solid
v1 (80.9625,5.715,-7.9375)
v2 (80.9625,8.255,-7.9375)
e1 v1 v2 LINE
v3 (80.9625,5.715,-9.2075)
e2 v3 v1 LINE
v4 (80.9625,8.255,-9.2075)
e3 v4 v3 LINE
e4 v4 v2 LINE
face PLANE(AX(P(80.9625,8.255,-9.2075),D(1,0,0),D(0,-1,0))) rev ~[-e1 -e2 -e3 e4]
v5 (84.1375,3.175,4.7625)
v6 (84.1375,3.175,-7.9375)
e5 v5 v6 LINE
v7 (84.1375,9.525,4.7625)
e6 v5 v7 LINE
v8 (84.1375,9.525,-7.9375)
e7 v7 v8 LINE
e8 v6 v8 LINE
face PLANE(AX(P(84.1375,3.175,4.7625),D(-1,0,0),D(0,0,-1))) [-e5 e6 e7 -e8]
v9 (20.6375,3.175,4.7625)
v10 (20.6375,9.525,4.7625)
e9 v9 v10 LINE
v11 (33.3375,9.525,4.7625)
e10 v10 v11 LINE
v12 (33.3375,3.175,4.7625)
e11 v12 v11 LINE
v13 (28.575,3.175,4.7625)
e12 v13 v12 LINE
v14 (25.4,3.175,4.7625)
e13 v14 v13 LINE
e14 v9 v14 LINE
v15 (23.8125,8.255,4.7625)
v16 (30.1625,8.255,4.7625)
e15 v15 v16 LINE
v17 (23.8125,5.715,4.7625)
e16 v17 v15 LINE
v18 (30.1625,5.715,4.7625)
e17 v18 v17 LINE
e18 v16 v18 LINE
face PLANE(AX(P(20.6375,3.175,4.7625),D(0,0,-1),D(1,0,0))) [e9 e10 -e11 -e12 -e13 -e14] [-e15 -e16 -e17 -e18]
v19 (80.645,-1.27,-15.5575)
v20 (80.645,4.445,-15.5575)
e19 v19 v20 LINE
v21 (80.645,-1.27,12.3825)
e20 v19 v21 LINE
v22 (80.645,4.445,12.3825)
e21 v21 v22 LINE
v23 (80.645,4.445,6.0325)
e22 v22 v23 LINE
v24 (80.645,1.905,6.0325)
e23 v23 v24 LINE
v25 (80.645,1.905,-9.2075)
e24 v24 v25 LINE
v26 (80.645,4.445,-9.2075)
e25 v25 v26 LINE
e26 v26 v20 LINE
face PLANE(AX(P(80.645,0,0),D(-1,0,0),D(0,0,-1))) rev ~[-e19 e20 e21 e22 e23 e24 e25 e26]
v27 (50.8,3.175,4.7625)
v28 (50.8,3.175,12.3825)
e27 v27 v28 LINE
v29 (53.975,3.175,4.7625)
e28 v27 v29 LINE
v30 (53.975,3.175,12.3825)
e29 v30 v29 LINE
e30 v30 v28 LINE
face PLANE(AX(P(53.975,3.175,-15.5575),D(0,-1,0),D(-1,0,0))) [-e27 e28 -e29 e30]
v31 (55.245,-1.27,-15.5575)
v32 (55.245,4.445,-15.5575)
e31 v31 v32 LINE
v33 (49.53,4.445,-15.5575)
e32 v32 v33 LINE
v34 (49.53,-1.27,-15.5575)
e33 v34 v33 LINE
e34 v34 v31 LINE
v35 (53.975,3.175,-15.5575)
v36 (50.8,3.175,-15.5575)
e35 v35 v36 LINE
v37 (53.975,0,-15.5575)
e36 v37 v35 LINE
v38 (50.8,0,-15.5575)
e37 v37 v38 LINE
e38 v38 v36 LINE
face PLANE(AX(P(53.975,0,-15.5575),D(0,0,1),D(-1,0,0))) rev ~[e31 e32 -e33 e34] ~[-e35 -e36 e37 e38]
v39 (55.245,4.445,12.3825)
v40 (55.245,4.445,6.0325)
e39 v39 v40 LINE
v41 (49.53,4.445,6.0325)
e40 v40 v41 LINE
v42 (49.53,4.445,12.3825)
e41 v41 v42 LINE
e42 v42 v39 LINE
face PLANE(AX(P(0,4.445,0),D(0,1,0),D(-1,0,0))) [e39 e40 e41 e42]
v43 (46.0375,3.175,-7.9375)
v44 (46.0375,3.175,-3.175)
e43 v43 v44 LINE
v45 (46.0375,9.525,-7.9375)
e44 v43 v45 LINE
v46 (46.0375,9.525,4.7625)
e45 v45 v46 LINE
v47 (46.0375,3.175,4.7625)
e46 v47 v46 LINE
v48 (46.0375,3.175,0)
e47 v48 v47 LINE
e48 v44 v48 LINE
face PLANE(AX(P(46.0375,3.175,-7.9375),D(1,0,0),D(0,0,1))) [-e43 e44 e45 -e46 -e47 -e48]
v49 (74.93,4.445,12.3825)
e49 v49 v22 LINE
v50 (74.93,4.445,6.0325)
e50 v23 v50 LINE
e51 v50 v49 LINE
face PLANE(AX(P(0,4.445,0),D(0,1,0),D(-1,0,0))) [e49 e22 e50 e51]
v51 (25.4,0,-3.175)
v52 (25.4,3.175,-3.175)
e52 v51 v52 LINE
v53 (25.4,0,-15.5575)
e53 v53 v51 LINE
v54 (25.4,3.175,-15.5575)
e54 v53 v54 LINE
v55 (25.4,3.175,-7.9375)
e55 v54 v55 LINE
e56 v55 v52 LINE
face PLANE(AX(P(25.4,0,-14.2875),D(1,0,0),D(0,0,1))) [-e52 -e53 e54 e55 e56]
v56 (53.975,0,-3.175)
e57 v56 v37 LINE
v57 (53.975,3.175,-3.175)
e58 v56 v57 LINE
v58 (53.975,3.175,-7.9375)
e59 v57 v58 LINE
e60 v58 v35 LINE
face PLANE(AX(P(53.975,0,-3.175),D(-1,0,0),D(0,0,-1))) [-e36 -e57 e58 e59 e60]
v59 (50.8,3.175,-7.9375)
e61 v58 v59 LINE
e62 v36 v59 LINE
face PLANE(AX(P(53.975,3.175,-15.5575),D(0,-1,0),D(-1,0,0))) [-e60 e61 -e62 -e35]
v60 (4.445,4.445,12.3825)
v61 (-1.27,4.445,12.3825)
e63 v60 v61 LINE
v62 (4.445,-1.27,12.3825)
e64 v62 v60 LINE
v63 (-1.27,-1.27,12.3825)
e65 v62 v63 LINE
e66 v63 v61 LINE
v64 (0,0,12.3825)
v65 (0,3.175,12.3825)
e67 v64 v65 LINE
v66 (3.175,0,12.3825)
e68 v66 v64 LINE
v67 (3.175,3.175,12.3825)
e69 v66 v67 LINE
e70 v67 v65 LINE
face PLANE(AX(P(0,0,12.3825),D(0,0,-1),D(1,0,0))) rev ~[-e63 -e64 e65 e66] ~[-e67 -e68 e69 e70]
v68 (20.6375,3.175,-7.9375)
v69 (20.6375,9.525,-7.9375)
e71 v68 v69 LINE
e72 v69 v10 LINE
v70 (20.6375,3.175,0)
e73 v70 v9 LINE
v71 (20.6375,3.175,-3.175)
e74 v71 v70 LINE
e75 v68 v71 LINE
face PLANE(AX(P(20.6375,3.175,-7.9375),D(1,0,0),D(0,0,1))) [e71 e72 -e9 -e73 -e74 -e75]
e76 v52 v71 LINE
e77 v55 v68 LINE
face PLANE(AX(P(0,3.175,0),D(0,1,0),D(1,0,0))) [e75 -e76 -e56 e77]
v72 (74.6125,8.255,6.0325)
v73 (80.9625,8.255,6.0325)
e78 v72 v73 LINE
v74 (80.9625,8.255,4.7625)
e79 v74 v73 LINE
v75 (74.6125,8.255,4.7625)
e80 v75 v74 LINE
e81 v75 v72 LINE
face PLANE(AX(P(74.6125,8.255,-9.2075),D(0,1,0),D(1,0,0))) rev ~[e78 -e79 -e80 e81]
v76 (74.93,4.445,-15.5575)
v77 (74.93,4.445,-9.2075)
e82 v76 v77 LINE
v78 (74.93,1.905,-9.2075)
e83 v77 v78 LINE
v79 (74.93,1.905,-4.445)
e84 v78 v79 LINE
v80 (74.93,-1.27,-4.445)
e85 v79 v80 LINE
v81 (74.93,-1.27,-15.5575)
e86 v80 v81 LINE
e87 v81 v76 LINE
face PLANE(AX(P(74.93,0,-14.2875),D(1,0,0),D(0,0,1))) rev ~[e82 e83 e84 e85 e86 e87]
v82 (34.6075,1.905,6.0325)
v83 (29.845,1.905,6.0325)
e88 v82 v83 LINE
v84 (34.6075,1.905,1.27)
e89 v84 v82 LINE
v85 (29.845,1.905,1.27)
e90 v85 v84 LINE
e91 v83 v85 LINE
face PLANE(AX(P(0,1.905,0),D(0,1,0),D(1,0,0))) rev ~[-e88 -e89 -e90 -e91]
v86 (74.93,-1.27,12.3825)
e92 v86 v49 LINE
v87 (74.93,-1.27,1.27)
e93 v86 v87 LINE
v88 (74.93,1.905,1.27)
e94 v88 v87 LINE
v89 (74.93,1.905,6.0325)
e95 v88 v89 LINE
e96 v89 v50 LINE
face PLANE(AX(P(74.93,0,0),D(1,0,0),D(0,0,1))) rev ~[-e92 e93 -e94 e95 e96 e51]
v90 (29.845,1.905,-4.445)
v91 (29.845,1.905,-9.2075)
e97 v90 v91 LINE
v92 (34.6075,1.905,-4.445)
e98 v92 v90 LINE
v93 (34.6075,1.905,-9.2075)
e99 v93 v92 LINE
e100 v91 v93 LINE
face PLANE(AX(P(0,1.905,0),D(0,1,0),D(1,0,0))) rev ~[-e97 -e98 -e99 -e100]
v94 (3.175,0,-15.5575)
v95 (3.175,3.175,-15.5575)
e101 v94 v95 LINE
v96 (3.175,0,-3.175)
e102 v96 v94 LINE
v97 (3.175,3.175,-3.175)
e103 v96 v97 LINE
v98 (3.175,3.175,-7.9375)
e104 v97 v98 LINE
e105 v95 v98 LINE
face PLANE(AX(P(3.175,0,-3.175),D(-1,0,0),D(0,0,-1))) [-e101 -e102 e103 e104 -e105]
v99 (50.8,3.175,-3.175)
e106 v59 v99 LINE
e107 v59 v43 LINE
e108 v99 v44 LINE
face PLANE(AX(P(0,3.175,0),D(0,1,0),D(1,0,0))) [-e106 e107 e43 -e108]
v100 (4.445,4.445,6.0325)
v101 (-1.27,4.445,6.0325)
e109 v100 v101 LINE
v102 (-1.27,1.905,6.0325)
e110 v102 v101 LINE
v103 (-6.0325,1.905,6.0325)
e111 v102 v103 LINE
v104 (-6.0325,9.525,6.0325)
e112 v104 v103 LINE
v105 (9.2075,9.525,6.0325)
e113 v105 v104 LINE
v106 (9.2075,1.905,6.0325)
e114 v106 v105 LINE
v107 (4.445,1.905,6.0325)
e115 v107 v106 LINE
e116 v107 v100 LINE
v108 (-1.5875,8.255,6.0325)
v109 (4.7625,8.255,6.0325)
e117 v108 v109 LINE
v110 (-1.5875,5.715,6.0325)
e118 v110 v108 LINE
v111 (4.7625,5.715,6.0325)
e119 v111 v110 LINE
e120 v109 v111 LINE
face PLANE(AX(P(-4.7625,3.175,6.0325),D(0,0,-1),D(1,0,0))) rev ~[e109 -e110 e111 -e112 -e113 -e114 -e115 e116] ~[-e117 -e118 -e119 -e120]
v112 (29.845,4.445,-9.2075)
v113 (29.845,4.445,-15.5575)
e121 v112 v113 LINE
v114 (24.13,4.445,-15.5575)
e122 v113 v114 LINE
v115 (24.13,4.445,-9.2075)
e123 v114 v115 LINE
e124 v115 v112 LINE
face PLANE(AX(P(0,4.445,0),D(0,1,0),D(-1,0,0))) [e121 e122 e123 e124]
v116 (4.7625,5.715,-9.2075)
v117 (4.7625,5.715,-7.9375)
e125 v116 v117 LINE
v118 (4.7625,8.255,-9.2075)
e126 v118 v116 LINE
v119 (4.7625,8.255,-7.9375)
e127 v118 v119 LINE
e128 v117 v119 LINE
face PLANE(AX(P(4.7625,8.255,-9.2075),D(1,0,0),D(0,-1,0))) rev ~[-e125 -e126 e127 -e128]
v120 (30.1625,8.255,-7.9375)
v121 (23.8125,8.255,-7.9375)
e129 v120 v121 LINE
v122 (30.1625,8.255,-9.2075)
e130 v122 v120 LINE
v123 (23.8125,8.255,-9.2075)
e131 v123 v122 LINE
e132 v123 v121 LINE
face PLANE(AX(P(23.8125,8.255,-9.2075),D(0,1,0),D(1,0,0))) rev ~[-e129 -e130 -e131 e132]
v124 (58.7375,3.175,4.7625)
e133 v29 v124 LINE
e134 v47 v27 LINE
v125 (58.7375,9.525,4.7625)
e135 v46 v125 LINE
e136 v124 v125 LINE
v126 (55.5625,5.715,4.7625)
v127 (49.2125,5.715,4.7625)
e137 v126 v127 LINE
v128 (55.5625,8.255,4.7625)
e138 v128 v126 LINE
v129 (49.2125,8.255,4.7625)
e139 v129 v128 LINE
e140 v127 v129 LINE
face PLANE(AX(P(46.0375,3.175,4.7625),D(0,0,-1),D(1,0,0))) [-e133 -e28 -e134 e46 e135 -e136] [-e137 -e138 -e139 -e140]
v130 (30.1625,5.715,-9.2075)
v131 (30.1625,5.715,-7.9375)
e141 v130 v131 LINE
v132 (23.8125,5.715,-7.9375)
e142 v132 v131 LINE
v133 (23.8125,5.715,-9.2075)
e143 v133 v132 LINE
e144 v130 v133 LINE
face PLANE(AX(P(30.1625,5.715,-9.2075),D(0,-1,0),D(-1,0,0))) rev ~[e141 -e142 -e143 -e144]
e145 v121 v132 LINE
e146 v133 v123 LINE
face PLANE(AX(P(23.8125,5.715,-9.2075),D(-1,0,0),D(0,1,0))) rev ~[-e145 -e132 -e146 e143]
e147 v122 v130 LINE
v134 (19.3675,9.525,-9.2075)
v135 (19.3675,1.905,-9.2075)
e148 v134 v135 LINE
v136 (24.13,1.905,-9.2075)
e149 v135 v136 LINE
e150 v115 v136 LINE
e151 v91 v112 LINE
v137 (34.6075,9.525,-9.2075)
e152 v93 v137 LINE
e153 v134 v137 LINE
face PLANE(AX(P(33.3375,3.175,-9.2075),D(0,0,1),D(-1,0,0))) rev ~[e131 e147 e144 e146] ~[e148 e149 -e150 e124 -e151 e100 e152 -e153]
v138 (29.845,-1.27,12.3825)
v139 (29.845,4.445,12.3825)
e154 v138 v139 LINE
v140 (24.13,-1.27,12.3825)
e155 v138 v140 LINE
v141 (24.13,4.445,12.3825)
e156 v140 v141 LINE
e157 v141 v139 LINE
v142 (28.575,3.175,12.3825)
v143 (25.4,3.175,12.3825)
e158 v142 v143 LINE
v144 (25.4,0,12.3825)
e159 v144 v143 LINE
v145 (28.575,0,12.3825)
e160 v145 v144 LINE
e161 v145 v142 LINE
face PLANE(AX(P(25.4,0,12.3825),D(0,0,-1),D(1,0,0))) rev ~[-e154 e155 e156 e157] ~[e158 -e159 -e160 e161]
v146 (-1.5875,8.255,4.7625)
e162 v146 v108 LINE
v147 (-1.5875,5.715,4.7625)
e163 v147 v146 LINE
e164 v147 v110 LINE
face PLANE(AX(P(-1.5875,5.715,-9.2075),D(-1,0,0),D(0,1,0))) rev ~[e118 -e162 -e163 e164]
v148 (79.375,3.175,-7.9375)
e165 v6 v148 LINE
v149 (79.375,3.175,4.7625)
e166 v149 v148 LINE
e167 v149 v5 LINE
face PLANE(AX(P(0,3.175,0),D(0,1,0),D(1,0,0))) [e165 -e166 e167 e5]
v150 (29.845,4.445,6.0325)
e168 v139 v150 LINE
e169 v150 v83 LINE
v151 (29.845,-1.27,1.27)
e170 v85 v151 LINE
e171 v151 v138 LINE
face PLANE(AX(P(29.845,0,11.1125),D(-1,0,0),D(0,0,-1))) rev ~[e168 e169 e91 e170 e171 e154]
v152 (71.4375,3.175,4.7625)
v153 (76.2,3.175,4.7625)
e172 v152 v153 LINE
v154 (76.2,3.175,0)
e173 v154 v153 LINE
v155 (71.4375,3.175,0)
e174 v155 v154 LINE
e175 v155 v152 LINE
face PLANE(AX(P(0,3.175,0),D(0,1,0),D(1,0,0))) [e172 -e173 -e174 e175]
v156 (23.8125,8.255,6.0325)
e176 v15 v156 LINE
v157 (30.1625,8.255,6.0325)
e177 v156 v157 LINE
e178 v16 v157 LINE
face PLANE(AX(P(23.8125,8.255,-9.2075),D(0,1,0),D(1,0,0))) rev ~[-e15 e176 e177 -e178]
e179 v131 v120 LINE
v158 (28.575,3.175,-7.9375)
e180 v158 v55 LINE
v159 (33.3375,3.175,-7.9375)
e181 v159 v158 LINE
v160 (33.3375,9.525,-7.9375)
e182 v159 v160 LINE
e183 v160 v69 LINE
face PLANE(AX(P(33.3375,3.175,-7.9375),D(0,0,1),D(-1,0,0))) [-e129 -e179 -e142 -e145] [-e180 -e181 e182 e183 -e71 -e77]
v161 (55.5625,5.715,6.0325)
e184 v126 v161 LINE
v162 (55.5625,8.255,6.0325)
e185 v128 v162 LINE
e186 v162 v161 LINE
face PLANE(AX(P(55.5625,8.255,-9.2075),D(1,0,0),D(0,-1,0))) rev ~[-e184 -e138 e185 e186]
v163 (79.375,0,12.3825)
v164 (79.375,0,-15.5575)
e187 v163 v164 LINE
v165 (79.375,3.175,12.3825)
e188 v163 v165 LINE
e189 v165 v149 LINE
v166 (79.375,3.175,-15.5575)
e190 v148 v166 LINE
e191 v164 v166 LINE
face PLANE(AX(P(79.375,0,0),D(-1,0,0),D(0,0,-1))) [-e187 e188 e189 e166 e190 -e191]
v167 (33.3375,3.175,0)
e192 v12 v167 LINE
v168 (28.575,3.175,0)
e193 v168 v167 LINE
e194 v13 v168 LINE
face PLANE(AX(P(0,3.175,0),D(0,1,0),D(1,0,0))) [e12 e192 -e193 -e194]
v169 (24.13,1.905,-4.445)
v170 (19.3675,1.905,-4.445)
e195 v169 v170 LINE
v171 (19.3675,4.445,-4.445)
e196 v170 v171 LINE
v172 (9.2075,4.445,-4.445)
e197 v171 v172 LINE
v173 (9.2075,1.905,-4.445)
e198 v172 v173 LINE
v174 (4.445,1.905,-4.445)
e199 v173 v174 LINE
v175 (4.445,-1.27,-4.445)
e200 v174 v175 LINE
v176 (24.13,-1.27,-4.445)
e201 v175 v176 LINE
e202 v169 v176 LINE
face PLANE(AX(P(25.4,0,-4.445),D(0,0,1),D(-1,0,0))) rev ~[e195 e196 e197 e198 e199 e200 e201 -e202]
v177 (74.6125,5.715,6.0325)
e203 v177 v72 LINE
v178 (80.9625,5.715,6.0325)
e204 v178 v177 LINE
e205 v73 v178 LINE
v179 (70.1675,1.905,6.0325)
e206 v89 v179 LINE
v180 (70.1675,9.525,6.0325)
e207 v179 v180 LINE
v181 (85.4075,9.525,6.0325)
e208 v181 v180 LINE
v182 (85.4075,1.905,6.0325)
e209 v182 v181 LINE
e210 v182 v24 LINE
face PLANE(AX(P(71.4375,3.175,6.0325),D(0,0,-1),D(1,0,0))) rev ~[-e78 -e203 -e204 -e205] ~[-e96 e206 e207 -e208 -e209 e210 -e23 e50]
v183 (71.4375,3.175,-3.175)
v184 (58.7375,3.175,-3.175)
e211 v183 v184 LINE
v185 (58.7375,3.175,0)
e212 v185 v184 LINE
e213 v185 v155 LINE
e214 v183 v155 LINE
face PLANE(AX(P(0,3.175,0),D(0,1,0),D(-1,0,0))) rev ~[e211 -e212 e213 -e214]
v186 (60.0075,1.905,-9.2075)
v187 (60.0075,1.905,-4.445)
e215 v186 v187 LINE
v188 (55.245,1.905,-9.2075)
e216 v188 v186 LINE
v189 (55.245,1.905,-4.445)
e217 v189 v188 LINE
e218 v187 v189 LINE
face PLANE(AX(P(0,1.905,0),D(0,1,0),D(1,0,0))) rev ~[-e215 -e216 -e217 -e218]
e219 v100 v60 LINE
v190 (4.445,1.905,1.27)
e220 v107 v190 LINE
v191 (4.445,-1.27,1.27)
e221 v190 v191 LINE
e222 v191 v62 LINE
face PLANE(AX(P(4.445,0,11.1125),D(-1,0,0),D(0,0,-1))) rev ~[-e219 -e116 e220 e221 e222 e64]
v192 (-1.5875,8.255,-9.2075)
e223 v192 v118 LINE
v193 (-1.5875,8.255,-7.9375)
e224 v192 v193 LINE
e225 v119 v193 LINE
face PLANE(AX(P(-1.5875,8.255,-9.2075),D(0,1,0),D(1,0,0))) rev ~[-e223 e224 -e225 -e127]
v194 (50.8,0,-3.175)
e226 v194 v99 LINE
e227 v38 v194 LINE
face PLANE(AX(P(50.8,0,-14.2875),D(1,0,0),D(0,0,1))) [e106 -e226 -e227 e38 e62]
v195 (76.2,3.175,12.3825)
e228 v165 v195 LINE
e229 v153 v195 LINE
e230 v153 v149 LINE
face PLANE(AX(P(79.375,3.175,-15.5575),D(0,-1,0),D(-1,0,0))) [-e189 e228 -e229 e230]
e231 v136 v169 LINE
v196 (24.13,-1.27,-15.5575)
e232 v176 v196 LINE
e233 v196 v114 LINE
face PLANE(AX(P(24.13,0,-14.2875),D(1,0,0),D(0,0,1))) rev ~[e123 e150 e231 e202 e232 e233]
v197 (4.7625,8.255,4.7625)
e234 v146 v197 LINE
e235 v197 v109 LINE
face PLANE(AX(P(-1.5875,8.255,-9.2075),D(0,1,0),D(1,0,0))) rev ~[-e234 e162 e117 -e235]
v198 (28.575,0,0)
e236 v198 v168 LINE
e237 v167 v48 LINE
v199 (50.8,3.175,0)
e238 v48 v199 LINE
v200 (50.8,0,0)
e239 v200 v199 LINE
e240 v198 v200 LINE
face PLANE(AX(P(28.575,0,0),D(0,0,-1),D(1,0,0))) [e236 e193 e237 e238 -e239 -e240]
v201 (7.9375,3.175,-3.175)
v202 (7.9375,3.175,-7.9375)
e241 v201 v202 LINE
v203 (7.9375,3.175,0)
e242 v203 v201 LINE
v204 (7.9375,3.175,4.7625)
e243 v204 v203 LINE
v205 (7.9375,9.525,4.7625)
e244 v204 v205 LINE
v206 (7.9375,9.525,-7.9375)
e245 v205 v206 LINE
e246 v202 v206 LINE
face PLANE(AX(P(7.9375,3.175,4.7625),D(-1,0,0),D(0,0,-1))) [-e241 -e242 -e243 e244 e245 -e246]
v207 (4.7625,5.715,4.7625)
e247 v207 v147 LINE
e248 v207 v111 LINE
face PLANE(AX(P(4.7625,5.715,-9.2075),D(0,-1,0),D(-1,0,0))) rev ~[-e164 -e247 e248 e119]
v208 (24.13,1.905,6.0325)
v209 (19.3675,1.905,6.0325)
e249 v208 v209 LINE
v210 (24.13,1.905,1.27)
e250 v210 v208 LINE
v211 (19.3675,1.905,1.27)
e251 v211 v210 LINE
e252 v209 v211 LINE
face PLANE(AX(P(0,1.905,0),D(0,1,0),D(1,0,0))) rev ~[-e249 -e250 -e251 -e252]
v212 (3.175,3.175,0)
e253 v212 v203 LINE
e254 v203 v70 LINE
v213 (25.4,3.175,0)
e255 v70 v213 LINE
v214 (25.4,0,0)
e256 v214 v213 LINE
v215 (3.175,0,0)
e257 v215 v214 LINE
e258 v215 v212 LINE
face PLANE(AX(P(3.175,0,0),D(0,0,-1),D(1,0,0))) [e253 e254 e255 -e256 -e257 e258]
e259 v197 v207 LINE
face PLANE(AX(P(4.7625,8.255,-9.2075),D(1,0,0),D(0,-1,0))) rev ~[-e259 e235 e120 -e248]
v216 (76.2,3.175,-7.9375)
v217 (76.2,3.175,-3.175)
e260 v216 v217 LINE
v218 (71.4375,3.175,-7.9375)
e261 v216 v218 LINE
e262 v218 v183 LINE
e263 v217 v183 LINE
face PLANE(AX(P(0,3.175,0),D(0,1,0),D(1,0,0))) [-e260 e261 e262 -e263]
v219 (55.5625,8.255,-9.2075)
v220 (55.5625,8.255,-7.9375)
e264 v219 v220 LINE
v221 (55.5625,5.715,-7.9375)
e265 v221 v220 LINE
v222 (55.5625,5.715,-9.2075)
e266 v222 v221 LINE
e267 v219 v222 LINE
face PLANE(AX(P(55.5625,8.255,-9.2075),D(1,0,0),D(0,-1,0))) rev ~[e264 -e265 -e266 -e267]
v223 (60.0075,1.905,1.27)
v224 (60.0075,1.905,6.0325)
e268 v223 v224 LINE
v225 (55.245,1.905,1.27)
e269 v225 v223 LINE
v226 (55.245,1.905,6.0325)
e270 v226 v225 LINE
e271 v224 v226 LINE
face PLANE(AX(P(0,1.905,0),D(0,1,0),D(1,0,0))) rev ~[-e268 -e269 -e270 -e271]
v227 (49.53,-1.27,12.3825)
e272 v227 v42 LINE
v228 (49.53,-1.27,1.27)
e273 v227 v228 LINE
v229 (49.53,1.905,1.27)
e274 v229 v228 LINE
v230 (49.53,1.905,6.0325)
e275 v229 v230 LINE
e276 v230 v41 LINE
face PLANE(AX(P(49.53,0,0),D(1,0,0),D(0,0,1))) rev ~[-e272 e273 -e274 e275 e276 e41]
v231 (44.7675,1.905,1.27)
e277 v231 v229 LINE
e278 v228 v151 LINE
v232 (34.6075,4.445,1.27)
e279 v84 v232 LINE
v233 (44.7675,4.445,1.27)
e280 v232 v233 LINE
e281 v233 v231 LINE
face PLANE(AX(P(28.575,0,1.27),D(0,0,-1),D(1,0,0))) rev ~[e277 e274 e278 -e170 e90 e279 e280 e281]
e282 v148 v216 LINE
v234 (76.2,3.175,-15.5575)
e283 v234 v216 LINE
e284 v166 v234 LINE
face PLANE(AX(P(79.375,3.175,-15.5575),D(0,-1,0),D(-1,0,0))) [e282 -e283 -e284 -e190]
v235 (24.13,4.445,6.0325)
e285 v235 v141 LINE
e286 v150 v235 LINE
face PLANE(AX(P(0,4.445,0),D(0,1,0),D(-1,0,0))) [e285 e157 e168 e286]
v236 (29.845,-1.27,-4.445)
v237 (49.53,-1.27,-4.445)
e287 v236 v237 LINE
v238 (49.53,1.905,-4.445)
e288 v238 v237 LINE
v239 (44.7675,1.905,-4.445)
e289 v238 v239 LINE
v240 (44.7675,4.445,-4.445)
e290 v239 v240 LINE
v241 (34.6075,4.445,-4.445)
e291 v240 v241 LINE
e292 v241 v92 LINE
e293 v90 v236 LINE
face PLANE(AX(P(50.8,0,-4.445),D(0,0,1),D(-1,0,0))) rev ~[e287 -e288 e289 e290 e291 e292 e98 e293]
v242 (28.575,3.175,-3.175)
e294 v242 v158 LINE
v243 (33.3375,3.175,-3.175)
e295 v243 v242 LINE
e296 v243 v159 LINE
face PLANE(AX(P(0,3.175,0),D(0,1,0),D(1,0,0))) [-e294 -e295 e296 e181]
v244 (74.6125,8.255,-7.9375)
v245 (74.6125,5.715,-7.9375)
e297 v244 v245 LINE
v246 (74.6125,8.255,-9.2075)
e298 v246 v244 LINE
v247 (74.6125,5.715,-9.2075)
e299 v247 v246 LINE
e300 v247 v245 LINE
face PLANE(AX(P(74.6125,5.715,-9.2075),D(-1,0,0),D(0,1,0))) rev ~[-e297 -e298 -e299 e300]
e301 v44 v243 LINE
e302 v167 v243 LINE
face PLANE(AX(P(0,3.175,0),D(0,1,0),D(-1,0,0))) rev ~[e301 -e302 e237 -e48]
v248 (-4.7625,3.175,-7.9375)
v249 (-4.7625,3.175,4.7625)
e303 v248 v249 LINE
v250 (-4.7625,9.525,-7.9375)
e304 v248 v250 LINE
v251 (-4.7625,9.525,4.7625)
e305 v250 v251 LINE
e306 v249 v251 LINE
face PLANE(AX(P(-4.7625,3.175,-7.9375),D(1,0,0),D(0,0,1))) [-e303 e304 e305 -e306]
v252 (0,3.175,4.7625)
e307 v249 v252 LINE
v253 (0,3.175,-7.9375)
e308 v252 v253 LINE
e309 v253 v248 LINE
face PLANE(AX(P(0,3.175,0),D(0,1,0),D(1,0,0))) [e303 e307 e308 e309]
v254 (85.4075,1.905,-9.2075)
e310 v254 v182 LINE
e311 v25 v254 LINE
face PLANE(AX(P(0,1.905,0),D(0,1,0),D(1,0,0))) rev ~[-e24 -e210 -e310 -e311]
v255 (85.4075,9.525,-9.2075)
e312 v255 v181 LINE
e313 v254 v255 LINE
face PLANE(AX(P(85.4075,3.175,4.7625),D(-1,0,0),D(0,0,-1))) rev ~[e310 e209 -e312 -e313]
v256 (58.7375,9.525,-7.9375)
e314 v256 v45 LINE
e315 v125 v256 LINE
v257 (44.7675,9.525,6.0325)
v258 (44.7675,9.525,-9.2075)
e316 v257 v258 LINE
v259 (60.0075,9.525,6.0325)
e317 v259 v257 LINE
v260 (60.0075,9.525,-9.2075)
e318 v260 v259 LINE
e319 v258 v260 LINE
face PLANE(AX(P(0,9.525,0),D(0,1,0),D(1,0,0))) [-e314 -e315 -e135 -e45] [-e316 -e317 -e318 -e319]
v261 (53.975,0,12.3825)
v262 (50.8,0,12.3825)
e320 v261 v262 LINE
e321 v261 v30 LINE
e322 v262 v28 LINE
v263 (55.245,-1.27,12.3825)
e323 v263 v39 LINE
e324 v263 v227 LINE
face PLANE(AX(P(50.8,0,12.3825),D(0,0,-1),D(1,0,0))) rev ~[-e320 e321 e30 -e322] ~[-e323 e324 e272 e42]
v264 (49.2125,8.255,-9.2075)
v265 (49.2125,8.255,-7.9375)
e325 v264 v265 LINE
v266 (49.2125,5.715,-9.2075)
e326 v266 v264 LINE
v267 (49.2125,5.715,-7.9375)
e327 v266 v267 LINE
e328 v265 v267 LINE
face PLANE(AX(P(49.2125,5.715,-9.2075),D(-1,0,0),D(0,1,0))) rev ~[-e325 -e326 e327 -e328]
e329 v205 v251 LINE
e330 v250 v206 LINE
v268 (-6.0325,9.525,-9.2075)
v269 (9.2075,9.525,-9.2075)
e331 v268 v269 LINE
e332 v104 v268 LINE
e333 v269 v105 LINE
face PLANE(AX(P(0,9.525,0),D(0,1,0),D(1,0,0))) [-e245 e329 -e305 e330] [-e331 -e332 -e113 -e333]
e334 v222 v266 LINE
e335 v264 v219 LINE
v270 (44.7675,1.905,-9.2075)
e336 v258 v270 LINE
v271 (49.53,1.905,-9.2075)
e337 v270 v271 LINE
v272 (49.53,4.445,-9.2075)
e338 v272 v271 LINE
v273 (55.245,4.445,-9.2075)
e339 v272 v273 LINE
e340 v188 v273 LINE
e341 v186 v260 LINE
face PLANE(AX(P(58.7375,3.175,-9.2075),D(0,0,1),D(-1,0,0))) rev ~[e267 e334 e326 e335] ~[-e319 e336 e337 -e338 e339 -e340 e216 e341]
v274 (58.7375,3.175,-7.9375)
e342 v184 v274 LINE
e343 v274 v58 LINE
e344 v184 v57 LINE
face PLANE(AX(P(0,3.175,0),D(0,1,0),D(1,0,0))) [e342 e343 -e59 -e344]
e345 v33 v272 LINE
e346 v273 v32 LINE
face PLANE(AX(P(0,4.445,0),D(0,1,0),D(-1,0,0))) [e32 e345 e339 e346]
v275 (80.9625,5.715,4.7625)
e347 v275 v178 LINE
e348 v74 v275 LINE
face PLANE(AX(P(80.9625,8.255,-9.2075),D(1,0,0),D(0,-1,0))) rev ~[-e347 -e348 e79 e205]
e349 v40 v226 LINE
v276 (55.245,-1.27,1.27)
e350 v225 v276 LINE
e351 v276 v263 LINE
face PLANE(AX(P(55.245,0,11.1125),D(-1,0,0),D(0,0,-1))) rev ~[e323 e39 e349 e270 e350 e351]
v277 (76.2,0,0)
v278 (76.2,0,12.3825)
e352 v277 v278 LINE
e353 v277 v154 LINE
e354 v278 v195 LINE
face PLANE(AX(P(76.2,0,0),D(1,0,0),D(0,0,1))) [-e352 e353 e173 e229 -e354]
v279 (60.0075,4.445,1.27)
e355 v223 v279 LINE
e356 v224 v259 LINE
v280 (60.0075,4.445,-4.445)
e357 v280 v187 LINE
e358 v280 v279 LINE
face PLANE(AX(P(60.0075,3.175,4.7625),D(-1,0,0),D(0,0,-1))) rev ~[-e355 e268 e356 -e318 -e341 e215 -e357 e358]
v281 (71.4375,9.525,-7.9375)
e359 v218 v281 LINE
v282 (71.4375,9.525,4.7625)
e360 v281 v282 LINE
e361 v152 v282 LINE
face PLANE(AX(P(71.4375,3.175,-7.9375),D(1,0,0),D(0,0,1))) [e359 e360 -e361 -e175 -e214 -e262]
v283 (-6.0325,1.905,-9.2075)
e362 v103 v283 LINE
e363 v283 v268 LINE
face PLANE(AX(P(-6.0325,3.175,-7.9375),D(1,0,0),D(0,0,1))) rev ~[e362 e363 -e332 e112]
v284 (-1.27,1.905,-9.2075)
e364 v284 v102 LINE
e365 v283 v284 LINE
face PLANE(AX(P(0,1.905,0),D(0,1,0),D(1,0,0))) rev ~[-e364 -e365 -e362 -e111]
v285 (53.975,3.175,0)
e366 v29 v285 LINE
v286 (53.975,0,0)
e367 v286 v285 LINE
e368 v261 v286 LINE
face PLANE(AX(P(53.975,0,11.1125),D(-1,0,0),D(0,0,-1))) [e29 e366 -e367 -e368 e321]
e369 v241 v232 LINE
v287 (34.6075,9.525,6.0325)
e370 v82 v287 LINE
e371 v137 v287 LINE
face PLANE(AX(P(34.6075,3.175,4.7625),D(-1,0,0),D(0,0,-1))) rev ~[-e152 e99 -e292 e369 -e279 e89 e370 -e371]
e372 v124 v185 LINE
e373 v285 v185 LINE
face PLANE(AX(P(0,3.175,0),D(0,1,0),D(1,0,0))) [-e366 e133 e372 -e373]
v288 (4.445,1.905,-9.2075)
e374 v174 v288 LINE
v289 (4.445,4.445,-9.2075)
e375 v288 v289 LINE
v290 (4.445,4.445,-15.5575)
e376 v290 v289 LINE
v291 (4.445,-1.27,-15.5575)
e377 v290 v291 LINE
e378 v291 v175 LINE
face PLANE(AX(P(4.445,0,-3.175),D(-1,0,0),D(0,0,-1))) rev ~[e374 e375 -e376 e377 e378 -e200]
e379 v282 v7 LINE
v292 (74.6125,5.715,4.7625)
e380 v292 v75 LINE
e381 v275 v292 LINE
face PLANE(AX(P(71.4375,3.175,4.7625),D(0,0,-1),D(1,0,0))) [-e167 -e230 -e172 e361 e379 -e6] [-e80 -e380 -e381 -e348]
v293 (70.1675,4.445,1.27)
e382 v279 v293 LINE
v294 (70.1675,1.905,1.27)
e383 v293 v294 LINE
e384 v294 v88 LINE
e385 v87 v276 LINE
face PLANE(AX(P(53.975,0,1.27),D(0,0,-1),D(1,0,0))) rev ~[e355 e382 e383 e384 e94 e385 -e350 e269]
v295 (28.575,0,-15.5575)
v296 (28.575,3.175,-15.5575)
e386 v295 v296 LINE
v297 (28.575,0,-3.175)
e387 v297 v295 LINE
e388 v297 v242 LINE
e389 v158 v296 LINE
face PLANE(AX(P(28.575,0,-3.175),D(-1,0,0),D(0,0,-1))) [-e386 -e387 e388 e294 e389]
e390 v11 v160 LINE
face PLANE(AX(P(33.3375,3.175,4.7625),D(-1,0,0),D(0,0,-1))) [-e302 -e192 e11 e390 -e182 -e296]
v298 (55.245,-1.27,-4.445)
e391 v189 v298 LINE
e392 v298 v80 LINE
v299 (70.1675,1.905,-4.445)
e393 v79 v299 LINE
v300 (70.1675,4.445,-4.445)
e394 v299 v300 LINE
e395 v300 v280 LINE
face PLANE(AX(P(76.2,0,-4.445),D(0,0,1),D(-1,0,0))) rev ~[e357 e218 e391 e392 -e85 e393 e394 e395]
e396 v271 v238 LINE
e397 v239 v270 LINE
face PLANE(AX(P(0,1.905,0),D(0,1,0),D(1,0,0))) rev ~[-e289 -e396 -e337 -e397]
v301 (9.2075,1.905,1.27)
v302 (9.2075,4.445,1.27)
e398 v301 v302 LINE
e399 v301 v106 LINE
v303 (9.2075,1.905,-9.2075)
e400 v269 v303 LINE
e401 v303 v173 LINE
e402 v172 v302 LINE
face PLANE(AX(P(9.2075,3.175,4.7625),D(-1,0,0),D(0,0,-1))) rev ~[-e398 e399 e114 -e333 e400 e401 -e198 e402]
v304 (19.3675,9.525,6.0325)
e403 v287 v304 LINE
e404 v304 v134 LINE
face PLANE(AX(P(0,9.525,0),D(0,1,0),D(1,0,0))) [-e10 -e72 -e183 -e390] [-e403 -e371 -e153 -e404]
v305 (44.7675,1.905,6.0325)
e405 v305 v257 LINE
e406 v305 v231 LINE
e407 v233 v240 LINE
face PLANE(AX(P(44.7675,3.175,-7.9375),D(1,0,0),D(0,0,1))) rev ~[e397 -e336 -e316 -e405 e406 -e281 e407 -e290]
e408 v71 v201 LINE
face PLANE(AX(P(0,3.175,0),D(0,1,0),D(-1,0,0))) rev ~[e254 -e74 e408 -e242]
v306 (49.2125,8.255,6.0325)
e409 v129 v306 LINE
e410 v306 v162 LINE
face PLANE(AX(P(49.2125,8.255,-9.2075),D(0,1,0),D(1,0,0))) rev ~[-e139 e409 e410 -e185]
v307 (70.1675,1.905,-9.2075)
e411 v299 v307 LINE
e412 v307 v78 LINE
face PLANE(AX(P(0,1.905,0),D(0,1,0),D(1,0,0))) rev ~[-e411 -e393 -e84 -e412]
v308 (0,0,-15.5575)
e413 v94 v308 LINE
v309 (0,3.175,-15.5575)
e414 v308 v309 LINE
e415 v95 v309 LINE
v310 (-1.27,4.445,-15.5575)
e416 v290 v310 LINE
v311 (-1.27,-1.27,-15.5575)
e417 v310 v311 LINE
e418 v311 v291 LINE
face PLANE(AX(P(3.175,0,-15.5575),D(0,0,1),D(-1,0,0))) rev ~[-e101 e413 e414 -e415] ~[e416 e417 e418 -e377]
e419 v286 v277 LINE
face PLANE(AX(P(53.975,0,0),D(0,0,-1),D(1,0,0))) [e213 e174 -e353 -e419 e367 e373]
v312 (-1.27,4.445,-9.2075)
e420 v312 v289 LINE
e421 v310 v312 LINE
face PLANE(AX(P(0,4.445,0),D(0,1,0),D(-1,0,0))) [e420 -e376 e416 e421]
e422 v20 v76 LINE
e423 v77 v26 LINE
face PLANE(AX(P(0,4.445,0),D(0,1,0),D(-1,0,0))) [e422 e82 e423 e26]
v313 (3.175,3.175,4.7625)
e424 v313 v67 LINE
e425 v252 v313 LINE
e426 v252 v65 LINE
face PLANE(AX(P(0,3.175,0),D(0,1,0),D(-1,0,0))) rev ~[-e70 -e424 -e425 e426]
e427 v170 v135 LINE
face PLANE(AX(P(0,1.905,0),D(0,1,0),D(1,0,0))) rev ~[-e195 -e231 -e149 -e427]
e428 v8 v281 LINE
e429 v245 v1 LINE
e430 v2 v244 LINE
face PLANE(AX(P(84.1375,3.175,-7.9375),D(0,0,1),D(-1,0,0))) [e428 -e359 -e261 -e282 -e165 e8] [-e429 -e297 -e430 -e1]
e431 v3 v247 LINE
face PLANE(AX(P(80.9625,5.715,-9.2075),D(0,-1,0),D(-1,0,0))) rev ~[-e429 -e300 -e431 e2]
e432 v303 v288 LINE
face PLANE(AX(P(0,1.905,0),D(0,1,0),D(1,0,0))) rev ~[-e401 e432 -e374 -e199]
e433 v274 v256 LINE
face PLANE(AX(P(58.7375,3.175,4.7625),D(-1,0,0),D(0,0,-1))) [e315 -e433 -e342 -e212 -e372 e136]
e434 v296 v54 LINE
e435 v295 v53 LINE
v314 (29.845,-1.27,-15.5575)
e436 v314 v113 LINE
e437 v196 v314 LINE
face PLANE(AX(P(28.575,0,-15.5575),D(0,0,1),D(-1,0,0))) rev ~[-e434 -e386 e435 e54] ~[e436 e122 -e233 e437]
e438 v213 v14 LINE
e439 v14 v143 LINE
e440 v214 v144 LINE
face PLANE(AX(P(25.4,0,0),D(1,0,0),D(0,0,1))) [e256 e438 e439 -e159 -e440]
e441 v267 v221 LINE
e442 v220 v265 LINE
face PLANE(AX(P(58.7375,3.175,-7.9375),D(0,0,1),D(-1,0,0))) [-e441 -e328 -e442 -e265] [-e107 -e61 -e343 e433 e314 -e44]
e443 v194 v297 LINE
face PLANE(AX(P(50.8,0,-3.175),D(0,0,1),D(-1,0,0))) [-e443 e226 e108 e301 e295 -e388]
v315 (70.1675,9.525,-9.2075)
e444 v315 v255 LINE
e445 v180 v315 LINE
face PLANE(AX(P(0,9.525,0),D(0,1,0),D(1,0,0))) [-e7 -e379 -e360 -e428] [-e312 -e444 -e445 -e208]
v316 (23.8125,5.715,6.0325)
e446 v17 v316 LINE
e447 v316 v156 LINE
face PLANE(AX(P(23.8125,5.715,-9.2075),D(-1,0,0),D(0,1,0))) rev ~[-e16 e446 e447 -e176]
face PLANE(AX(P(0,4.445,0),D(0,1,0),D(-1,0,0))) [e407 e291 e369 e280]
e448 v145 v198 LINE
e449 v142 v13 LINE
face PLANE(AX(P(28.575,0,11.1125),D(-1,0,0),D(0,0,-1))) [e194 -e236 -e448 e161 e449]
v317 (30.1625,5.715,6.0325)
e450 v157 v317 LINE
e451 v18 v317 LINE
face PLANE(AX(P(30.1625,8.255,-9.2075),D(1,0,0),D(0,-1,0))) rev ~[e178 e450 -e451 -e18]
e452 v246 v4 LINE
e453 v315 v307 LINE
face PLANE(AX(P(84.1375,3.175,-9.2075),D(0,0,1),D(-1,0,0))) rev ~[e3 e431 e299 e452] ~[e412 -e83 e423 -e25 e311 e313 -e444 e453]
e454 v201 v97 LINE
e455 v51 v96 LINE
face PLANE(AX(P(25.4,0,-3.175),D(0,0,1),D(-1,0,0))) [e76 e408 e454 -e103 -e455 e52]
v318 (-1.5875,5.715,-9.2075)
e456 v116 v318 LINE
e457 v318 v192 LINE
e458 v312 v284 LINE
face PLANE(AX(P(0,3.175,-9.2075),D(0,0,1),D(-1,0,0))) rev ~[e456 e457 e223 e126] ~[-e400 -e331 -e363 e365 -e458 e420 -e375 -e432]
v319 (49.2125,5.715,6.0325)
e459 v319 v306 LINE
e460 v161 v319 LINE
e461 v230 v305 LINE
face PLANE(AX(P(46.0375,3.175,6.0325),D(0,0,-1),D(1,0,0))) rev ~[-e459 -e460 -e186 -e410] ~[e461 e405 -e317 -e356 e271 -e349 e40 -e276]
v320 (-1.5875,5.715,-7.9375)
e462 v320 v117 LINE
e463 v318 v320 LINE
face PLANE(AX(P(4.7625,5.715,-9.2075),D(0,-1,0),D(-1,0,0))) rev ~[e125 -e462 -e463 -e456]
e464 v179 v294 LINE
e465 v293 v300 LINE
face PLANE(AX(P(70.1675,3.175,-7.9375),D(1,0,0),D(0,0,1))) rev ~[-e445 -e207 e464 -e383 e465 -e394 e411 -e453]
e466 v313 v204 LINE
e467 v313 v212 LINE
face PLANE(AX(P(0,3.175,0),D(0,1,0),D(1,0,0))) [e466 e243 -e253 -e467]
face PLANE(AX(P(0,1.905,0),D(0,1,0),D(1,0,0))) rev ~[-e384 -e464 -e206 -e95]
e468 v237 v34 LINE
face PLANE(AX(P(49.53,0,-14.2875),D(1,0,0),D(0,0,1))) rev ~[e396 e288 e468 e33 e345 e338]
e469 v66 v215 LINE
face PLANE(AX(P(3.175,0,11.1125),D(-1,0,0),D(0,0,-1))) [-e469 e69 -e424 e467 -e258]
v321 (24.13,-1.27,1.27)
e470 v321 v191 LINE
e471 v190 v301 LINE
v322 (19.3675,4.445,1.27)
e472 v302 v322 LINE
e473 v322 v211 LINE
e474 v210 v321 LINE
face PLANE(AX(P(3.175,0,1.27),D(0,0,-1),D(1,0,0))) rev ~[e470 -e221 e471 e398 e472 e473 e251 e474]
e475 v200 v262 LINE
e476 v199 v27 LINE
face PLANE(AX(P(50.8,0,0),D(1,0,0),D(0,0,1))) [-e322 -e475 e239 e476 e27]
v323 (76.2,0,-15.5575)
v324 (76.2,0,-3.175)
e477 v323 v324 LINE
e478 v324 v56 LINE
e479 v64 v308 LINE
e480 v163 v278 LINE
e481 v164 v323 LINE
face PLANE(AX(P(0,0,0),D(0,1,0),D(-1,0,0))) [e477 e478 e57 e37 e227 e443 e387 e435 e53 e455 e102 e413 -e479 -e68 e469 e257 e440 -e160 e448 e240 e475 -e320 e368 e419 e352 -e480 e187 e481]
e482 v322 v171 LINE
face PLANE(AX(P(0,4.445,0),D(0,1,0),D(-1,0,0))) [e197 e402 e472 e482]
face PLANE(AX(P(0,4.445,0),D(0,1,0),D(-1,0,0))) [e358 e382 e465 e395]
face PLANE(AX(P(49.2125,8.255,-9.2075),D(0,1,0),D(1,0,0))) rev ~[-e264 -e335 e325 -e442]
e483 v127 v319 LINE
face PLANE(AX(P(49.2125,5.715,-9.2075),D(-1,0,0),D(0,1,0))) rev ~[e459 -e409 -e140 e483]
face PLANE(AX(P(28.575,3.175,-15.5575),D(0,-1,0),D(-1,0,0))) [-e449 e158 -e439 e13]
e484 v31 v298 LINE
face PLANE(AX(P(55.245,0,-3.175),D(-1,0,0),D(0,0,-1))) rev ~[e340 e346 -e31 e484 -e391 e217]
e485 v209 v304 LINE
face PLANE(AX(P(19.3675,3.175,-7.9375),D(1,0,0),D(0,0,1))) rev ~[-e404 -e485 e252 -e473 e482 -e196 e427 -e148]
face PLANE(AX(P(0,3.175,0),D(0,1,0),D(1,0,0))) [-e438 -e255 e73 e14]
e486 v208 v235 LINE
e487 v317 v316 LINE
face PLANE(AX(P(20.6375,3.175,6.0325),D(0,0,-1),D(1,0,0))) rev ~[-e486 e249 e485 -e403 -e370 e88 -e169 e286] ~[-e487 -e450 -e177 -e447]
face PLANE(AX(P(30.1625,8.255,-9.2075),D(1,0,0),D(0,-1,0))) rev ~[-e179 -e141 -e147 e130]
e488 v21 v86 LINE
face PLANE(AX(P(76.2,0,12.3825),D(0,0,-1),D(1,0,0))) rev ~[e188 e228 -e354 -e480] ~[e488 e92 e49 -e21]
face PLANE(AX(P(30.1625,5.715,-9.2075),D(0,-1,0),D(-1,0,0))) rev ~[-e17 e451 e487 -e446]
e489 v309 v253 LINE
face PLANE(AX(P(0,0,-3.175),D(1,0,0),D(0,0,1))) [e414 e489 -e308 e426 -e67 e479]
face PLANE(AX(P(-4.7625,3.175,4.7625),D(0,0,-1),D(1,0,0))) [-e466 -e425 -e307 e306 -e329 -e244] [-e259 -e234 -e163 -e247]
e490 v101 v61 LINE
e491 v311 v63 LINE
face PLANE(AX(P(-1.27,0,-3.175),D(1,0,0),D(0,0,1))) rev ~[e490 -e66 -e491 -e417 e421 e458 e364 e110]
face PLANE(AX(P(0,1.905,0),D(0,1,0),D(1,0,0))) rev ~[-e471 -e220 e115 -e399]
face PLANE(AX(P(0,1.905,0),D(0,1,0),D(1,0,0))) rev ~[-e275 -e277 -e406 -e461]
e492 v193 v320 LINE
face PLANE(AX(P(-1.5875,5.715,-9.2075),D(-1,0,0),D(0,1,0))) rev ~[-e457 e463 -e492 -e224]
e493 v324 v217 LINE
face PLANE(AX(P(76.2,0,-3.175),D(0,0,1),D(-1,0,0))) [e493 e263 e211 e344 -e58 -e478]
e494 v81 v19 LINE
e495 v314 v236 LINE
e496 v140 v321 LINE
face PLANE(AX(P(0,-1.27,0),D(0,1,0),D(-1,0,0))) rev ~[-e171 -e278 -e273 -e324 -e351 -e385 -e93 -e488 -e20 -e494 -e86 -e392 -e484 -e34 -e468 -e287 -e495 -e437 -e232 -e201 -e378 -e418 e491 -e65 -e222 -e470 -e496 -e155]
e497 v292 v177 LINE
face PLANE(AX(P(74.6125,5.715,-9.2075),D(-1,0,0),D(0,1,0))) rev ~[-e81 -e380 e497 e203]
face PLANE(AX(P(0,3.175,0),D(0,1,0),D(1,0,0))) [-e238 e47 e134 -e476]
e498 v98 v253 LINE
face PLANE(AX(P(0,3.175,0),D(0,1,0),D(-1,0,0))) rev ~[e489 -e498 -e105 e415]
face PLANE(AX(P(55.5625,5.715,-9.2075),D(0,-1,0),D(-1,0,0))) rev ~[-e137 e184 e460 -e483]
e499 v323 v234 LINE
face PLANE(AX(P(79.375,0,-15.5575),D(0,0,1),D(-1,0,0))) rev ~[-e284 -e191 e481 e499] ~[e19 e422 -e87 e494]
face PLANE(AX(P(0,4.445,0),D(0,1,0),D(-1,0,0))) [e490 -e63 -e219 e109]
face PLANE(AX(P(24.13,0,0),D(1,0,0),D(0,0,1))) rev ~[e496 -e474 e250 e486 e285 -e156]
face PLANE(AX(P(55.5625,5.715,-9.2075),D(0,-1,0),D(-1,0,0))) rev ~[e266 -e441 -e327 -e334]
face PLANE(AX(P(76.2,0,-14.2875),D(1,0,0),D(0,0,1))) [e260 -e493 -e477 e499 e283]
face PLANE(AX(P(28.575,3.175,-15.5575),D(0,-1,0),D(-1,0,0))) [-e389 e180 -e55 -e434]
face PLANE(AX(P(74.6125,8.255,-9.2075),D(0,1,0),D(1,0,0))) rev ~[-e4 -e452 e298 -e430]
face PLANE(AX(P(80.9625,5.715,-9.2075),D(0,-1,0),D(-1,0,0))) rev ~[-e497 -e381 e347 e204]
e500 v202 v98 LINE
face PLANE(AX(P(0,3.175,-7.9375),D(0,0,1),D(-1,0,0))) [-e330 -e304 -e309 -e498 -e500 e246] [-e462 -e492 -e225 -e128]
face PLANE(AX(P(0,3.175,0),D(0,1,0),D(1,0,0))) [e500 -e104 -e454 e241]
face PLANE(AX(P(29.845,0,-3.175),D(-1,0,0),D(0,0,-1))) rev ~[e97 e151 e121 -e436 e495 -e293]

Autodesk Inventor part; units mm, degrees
ref_plane "YZ Plane" through (0, 0, 0) normal (1, 0, 0) x (0, 1, 0)
ref_plane "XZ Plane" through (0, 0, 0) normal (0, 1, 0) x (-1, 0, 0)
ref_plane "XY Plane" through (0, 0, 0) normal (0, 0, 1) x (1, 0, 0)
sketch "Sketch1" plane through (0, 0, 0) normal (0, 1, 0) x (-1, 0, 0)
  line L0 (0, 0) -> (-79.375, 0)
  line L1 (-79.375, 0) -> (-79.375, -3.175)
  line L2 (-79.375, -3.175) -> (0, -3.175)
  line L3 (0, -3.175) -> (0, 0)
  line L4 (0, 11.1125) -> (-3.175, 11.1125)
  line L5 (-3.175, 11.1125) -> (-3.175, -14.2875)
  line L6 (-3.175, -14.2875) -> (0, -14.2875)
  line L7 (0, -14.2875) -> (0, 11.1125)
  line L8 (-25.4, -14.2875) -> (-25.4, 11.1125)
  line L9 (-25.4, 11.1125) -> (-28.575, 11.1125)
  line L10 (-28.575, 11.1125) -> (-28.575, -14.2875)
  line L11 (-28.575, -14.2875) -> (-25.4, -14.2875)
  line L12 (-50.8, -14.2875) -> (-50.8, 11.1125)
  line L13 (-50.8, 11.1125) -> (-53.975, 11.1125)
  line L14 (-53.975, 11.1125) -> (-53.975, -14.2875)
  line L15 (-53.975, -14.2875) -> (-50.8, -14.2875)
  line L16 (-76.2, -14.2875) -> (-76.2, 11.1125)
  line L17 (-76.2, 11.1125) -> (-79.375, 11.1125)
  line L18 (-79.375, 11.1125) -> (-79.375, -14.2875)
  line L19 (-79.375, -14.2875) -> (-76.2, -14.2875)
  point P0 (0, -1.5875)
  point P1 (0, -1.5875)
  point P2 (-1.5875, -14.2875)
  point P3 (-25.4, -1.5875)
  point P4 (-26.9875, -14.2875)
  point P5 (-50.8, -1.5875)
  point P6 (-52.3875, -14.2875)
  point P7 (-76.2, -1.5875)
  point P8 (-77.7875, -14.2875)
  point P9 (-1.5875, 11.1125)
  point P10 (-76.2, -3.175)
  point P11 (-79.375, -3.175)
  point P12 (-79.375, 0)
  point P13 (-76.2, 0)
  point P14 (-53.975, 0)
  point P15 (-50.8, 0)
  point P16 (-50.8, -3.175)
  point P17 (-53.975, -3.175)
  point P18 (-25.4, -3.175)
  point P19 (-28.575, -3.175)
  point P20 (-28.575, 0)
  point P21 (-25.4, 0)
  point P22 (-3.175, 0)
  point P23 (0, 0)
  point P24 (0, -3.175)
  point P25 (-3.175, -3.175)
  dimension "d0" = 79.375
  dimension "d1" = 3.175
  dimension "d20" = 3.175
  dimension "d25" = 25.4
  dimension "d31" = 12.7
extrude "Extrusion1" add sketch "Sketch1" along normal blind 3.175
sketch "Sketch2" plane through (0, 3.175, 0) normal (0, 1, 0) x (1, 0, 0)
  line L0 (-4.7625, -4.7625) -> (7.9375, -4.7625)
  line L1 (7.9375, -4.7625) -> (7.9375, 7.9375)
  line L2 (7.9375, 7.9375) -> (-4.7625, 7.9375)
  line L3 (-4.7625, 7.9375) -> (-4.7625, -4.7625)
  line L4 (0, 14.2875) -> (0, -11.1125) projected
  line L5 (20.6375, 7.9375) -> (20.6375, -4.7625)
  line L6 (20.6375, -4.7625) -> (33.3375, -4.7625)
  line L7 (33.3375, 7.9375) -> (20.6375, 7.9375)
  line L8 (33.3375, -4.7625) -> (33.3375, 7.9375)
  line L9 (46.0375, 7.9375) -> (46.0375, -4.7625)
  line L10 (46.0375, -4.7625) -> (58.7375, -4.7625)
  line L11 (58.7375, 7.9375) -> (46.0375, 7.9375)
  line L12 (58.7375, -4.7625) -> (58.7375, 7.9375)
  line L13 (71.4375, 7.9375) -> (71.4375, -4.7625)
  line L14 (71.4375, -4.7625) -> (84.1375, -4.7625)
  line L15 (84.1375, 7.9375) -> (71.4375, 7.9375)
  line L16 (84.1375, -4.7625) -> (84.1375, 7.9375)
  line L17 (3.175, 14.2875) -> (0, 14.2875) projected
  point P0 (-4.7625, 1.5875)
  point P1 (0, 1.5875)
  point P2 (0, 1.5875)
  point P3 (20.6375, 1.5875)
  point P4 (46.0375, 1.5875)
  point P5 (71.4375, 1.5875)
  point P6 (1.5875, 7.9375)
  point P7 (1.5875, 14.2875)
  dimension "d32" = 12.7
  dimension "d33" = 12.7
  dimension "d36" = 25.4
extrude "Extrusion2" add sketch "Sketch2" along normal blind 6.35
shell "Shell2" thickness 1.27 outward yes removed faces 4 at (3.7042, 9.525, 0.5292) at (29.1042, 9.525, 0.5292) at (54.5042, 9.525, 0.5292) at (79.9042, 9.525, 0.5292)
sketch "Sketch3" plane through (4.445, -1.27, -15.5575) normal (0, 0, -1) x (-1, 0, 0)
  line L0 (4.445, 1.27) -> (4.445, 4.445) projected
  line L1 (1.27, 4.445) -> (4.445, 4.445) projected
  line L2 (1.27, 1.27) -> (1.27, 4.445) projected
  line L3 (1.27, 1.27) -> (4.445, 1.27) projected
  line L4 (4.445, 4.445) -> (1.27, 4.445) projected
  line L5 (4.445, 4.445) -> (1.27, 4.445)
  line L6 (1.27, 4.445) -> (1.27, 1.27)
  line L7 (1.27, 1.27) -> (4.445, 1.27)
  line L8 (4.445, 1.27) -> (4.445, 4.445)
extrude "Extrusion3" cut sketch "Sketch3" against normal through all
pattern_linear "Rectangular Pattern1" count 4 spacing 25.4 along (1, 0, 0) of "Extrusion3"
sketch "Sketch4" plane through (34.6075, 1.905, -9.2075) normal (0, 0, -1) x (-1, 0, 0)
  line L0 (36.195, 6.35) -> (29.845, 6.35)
  line L1 (29.845, 6.35) -> (29.845, 3.81)
  line L2 (29.845, 3.81) -> (36.195, 3.81)
  line L3 (36.195, 3.81) -> (36.195, 6.35)
  line L4 (25.4, 7.62) -> (40.64, 7.62) projected
  point P0 (34.6075, -1.905)
  point P1 (33.02, 6.35)
  point P2 (33.02, 7.62)
  dimension "d47" = 6.35
  dimension "d48" = 2.54
  dimension "d49" = 1.27
extrude "Extrusion4" cut sketch "Sketch4" against normal through all
pattern_linear "Rectangular Pattern2" count 4 spacing 25.4 along (1, 0, 0) of "Extrusion4"
